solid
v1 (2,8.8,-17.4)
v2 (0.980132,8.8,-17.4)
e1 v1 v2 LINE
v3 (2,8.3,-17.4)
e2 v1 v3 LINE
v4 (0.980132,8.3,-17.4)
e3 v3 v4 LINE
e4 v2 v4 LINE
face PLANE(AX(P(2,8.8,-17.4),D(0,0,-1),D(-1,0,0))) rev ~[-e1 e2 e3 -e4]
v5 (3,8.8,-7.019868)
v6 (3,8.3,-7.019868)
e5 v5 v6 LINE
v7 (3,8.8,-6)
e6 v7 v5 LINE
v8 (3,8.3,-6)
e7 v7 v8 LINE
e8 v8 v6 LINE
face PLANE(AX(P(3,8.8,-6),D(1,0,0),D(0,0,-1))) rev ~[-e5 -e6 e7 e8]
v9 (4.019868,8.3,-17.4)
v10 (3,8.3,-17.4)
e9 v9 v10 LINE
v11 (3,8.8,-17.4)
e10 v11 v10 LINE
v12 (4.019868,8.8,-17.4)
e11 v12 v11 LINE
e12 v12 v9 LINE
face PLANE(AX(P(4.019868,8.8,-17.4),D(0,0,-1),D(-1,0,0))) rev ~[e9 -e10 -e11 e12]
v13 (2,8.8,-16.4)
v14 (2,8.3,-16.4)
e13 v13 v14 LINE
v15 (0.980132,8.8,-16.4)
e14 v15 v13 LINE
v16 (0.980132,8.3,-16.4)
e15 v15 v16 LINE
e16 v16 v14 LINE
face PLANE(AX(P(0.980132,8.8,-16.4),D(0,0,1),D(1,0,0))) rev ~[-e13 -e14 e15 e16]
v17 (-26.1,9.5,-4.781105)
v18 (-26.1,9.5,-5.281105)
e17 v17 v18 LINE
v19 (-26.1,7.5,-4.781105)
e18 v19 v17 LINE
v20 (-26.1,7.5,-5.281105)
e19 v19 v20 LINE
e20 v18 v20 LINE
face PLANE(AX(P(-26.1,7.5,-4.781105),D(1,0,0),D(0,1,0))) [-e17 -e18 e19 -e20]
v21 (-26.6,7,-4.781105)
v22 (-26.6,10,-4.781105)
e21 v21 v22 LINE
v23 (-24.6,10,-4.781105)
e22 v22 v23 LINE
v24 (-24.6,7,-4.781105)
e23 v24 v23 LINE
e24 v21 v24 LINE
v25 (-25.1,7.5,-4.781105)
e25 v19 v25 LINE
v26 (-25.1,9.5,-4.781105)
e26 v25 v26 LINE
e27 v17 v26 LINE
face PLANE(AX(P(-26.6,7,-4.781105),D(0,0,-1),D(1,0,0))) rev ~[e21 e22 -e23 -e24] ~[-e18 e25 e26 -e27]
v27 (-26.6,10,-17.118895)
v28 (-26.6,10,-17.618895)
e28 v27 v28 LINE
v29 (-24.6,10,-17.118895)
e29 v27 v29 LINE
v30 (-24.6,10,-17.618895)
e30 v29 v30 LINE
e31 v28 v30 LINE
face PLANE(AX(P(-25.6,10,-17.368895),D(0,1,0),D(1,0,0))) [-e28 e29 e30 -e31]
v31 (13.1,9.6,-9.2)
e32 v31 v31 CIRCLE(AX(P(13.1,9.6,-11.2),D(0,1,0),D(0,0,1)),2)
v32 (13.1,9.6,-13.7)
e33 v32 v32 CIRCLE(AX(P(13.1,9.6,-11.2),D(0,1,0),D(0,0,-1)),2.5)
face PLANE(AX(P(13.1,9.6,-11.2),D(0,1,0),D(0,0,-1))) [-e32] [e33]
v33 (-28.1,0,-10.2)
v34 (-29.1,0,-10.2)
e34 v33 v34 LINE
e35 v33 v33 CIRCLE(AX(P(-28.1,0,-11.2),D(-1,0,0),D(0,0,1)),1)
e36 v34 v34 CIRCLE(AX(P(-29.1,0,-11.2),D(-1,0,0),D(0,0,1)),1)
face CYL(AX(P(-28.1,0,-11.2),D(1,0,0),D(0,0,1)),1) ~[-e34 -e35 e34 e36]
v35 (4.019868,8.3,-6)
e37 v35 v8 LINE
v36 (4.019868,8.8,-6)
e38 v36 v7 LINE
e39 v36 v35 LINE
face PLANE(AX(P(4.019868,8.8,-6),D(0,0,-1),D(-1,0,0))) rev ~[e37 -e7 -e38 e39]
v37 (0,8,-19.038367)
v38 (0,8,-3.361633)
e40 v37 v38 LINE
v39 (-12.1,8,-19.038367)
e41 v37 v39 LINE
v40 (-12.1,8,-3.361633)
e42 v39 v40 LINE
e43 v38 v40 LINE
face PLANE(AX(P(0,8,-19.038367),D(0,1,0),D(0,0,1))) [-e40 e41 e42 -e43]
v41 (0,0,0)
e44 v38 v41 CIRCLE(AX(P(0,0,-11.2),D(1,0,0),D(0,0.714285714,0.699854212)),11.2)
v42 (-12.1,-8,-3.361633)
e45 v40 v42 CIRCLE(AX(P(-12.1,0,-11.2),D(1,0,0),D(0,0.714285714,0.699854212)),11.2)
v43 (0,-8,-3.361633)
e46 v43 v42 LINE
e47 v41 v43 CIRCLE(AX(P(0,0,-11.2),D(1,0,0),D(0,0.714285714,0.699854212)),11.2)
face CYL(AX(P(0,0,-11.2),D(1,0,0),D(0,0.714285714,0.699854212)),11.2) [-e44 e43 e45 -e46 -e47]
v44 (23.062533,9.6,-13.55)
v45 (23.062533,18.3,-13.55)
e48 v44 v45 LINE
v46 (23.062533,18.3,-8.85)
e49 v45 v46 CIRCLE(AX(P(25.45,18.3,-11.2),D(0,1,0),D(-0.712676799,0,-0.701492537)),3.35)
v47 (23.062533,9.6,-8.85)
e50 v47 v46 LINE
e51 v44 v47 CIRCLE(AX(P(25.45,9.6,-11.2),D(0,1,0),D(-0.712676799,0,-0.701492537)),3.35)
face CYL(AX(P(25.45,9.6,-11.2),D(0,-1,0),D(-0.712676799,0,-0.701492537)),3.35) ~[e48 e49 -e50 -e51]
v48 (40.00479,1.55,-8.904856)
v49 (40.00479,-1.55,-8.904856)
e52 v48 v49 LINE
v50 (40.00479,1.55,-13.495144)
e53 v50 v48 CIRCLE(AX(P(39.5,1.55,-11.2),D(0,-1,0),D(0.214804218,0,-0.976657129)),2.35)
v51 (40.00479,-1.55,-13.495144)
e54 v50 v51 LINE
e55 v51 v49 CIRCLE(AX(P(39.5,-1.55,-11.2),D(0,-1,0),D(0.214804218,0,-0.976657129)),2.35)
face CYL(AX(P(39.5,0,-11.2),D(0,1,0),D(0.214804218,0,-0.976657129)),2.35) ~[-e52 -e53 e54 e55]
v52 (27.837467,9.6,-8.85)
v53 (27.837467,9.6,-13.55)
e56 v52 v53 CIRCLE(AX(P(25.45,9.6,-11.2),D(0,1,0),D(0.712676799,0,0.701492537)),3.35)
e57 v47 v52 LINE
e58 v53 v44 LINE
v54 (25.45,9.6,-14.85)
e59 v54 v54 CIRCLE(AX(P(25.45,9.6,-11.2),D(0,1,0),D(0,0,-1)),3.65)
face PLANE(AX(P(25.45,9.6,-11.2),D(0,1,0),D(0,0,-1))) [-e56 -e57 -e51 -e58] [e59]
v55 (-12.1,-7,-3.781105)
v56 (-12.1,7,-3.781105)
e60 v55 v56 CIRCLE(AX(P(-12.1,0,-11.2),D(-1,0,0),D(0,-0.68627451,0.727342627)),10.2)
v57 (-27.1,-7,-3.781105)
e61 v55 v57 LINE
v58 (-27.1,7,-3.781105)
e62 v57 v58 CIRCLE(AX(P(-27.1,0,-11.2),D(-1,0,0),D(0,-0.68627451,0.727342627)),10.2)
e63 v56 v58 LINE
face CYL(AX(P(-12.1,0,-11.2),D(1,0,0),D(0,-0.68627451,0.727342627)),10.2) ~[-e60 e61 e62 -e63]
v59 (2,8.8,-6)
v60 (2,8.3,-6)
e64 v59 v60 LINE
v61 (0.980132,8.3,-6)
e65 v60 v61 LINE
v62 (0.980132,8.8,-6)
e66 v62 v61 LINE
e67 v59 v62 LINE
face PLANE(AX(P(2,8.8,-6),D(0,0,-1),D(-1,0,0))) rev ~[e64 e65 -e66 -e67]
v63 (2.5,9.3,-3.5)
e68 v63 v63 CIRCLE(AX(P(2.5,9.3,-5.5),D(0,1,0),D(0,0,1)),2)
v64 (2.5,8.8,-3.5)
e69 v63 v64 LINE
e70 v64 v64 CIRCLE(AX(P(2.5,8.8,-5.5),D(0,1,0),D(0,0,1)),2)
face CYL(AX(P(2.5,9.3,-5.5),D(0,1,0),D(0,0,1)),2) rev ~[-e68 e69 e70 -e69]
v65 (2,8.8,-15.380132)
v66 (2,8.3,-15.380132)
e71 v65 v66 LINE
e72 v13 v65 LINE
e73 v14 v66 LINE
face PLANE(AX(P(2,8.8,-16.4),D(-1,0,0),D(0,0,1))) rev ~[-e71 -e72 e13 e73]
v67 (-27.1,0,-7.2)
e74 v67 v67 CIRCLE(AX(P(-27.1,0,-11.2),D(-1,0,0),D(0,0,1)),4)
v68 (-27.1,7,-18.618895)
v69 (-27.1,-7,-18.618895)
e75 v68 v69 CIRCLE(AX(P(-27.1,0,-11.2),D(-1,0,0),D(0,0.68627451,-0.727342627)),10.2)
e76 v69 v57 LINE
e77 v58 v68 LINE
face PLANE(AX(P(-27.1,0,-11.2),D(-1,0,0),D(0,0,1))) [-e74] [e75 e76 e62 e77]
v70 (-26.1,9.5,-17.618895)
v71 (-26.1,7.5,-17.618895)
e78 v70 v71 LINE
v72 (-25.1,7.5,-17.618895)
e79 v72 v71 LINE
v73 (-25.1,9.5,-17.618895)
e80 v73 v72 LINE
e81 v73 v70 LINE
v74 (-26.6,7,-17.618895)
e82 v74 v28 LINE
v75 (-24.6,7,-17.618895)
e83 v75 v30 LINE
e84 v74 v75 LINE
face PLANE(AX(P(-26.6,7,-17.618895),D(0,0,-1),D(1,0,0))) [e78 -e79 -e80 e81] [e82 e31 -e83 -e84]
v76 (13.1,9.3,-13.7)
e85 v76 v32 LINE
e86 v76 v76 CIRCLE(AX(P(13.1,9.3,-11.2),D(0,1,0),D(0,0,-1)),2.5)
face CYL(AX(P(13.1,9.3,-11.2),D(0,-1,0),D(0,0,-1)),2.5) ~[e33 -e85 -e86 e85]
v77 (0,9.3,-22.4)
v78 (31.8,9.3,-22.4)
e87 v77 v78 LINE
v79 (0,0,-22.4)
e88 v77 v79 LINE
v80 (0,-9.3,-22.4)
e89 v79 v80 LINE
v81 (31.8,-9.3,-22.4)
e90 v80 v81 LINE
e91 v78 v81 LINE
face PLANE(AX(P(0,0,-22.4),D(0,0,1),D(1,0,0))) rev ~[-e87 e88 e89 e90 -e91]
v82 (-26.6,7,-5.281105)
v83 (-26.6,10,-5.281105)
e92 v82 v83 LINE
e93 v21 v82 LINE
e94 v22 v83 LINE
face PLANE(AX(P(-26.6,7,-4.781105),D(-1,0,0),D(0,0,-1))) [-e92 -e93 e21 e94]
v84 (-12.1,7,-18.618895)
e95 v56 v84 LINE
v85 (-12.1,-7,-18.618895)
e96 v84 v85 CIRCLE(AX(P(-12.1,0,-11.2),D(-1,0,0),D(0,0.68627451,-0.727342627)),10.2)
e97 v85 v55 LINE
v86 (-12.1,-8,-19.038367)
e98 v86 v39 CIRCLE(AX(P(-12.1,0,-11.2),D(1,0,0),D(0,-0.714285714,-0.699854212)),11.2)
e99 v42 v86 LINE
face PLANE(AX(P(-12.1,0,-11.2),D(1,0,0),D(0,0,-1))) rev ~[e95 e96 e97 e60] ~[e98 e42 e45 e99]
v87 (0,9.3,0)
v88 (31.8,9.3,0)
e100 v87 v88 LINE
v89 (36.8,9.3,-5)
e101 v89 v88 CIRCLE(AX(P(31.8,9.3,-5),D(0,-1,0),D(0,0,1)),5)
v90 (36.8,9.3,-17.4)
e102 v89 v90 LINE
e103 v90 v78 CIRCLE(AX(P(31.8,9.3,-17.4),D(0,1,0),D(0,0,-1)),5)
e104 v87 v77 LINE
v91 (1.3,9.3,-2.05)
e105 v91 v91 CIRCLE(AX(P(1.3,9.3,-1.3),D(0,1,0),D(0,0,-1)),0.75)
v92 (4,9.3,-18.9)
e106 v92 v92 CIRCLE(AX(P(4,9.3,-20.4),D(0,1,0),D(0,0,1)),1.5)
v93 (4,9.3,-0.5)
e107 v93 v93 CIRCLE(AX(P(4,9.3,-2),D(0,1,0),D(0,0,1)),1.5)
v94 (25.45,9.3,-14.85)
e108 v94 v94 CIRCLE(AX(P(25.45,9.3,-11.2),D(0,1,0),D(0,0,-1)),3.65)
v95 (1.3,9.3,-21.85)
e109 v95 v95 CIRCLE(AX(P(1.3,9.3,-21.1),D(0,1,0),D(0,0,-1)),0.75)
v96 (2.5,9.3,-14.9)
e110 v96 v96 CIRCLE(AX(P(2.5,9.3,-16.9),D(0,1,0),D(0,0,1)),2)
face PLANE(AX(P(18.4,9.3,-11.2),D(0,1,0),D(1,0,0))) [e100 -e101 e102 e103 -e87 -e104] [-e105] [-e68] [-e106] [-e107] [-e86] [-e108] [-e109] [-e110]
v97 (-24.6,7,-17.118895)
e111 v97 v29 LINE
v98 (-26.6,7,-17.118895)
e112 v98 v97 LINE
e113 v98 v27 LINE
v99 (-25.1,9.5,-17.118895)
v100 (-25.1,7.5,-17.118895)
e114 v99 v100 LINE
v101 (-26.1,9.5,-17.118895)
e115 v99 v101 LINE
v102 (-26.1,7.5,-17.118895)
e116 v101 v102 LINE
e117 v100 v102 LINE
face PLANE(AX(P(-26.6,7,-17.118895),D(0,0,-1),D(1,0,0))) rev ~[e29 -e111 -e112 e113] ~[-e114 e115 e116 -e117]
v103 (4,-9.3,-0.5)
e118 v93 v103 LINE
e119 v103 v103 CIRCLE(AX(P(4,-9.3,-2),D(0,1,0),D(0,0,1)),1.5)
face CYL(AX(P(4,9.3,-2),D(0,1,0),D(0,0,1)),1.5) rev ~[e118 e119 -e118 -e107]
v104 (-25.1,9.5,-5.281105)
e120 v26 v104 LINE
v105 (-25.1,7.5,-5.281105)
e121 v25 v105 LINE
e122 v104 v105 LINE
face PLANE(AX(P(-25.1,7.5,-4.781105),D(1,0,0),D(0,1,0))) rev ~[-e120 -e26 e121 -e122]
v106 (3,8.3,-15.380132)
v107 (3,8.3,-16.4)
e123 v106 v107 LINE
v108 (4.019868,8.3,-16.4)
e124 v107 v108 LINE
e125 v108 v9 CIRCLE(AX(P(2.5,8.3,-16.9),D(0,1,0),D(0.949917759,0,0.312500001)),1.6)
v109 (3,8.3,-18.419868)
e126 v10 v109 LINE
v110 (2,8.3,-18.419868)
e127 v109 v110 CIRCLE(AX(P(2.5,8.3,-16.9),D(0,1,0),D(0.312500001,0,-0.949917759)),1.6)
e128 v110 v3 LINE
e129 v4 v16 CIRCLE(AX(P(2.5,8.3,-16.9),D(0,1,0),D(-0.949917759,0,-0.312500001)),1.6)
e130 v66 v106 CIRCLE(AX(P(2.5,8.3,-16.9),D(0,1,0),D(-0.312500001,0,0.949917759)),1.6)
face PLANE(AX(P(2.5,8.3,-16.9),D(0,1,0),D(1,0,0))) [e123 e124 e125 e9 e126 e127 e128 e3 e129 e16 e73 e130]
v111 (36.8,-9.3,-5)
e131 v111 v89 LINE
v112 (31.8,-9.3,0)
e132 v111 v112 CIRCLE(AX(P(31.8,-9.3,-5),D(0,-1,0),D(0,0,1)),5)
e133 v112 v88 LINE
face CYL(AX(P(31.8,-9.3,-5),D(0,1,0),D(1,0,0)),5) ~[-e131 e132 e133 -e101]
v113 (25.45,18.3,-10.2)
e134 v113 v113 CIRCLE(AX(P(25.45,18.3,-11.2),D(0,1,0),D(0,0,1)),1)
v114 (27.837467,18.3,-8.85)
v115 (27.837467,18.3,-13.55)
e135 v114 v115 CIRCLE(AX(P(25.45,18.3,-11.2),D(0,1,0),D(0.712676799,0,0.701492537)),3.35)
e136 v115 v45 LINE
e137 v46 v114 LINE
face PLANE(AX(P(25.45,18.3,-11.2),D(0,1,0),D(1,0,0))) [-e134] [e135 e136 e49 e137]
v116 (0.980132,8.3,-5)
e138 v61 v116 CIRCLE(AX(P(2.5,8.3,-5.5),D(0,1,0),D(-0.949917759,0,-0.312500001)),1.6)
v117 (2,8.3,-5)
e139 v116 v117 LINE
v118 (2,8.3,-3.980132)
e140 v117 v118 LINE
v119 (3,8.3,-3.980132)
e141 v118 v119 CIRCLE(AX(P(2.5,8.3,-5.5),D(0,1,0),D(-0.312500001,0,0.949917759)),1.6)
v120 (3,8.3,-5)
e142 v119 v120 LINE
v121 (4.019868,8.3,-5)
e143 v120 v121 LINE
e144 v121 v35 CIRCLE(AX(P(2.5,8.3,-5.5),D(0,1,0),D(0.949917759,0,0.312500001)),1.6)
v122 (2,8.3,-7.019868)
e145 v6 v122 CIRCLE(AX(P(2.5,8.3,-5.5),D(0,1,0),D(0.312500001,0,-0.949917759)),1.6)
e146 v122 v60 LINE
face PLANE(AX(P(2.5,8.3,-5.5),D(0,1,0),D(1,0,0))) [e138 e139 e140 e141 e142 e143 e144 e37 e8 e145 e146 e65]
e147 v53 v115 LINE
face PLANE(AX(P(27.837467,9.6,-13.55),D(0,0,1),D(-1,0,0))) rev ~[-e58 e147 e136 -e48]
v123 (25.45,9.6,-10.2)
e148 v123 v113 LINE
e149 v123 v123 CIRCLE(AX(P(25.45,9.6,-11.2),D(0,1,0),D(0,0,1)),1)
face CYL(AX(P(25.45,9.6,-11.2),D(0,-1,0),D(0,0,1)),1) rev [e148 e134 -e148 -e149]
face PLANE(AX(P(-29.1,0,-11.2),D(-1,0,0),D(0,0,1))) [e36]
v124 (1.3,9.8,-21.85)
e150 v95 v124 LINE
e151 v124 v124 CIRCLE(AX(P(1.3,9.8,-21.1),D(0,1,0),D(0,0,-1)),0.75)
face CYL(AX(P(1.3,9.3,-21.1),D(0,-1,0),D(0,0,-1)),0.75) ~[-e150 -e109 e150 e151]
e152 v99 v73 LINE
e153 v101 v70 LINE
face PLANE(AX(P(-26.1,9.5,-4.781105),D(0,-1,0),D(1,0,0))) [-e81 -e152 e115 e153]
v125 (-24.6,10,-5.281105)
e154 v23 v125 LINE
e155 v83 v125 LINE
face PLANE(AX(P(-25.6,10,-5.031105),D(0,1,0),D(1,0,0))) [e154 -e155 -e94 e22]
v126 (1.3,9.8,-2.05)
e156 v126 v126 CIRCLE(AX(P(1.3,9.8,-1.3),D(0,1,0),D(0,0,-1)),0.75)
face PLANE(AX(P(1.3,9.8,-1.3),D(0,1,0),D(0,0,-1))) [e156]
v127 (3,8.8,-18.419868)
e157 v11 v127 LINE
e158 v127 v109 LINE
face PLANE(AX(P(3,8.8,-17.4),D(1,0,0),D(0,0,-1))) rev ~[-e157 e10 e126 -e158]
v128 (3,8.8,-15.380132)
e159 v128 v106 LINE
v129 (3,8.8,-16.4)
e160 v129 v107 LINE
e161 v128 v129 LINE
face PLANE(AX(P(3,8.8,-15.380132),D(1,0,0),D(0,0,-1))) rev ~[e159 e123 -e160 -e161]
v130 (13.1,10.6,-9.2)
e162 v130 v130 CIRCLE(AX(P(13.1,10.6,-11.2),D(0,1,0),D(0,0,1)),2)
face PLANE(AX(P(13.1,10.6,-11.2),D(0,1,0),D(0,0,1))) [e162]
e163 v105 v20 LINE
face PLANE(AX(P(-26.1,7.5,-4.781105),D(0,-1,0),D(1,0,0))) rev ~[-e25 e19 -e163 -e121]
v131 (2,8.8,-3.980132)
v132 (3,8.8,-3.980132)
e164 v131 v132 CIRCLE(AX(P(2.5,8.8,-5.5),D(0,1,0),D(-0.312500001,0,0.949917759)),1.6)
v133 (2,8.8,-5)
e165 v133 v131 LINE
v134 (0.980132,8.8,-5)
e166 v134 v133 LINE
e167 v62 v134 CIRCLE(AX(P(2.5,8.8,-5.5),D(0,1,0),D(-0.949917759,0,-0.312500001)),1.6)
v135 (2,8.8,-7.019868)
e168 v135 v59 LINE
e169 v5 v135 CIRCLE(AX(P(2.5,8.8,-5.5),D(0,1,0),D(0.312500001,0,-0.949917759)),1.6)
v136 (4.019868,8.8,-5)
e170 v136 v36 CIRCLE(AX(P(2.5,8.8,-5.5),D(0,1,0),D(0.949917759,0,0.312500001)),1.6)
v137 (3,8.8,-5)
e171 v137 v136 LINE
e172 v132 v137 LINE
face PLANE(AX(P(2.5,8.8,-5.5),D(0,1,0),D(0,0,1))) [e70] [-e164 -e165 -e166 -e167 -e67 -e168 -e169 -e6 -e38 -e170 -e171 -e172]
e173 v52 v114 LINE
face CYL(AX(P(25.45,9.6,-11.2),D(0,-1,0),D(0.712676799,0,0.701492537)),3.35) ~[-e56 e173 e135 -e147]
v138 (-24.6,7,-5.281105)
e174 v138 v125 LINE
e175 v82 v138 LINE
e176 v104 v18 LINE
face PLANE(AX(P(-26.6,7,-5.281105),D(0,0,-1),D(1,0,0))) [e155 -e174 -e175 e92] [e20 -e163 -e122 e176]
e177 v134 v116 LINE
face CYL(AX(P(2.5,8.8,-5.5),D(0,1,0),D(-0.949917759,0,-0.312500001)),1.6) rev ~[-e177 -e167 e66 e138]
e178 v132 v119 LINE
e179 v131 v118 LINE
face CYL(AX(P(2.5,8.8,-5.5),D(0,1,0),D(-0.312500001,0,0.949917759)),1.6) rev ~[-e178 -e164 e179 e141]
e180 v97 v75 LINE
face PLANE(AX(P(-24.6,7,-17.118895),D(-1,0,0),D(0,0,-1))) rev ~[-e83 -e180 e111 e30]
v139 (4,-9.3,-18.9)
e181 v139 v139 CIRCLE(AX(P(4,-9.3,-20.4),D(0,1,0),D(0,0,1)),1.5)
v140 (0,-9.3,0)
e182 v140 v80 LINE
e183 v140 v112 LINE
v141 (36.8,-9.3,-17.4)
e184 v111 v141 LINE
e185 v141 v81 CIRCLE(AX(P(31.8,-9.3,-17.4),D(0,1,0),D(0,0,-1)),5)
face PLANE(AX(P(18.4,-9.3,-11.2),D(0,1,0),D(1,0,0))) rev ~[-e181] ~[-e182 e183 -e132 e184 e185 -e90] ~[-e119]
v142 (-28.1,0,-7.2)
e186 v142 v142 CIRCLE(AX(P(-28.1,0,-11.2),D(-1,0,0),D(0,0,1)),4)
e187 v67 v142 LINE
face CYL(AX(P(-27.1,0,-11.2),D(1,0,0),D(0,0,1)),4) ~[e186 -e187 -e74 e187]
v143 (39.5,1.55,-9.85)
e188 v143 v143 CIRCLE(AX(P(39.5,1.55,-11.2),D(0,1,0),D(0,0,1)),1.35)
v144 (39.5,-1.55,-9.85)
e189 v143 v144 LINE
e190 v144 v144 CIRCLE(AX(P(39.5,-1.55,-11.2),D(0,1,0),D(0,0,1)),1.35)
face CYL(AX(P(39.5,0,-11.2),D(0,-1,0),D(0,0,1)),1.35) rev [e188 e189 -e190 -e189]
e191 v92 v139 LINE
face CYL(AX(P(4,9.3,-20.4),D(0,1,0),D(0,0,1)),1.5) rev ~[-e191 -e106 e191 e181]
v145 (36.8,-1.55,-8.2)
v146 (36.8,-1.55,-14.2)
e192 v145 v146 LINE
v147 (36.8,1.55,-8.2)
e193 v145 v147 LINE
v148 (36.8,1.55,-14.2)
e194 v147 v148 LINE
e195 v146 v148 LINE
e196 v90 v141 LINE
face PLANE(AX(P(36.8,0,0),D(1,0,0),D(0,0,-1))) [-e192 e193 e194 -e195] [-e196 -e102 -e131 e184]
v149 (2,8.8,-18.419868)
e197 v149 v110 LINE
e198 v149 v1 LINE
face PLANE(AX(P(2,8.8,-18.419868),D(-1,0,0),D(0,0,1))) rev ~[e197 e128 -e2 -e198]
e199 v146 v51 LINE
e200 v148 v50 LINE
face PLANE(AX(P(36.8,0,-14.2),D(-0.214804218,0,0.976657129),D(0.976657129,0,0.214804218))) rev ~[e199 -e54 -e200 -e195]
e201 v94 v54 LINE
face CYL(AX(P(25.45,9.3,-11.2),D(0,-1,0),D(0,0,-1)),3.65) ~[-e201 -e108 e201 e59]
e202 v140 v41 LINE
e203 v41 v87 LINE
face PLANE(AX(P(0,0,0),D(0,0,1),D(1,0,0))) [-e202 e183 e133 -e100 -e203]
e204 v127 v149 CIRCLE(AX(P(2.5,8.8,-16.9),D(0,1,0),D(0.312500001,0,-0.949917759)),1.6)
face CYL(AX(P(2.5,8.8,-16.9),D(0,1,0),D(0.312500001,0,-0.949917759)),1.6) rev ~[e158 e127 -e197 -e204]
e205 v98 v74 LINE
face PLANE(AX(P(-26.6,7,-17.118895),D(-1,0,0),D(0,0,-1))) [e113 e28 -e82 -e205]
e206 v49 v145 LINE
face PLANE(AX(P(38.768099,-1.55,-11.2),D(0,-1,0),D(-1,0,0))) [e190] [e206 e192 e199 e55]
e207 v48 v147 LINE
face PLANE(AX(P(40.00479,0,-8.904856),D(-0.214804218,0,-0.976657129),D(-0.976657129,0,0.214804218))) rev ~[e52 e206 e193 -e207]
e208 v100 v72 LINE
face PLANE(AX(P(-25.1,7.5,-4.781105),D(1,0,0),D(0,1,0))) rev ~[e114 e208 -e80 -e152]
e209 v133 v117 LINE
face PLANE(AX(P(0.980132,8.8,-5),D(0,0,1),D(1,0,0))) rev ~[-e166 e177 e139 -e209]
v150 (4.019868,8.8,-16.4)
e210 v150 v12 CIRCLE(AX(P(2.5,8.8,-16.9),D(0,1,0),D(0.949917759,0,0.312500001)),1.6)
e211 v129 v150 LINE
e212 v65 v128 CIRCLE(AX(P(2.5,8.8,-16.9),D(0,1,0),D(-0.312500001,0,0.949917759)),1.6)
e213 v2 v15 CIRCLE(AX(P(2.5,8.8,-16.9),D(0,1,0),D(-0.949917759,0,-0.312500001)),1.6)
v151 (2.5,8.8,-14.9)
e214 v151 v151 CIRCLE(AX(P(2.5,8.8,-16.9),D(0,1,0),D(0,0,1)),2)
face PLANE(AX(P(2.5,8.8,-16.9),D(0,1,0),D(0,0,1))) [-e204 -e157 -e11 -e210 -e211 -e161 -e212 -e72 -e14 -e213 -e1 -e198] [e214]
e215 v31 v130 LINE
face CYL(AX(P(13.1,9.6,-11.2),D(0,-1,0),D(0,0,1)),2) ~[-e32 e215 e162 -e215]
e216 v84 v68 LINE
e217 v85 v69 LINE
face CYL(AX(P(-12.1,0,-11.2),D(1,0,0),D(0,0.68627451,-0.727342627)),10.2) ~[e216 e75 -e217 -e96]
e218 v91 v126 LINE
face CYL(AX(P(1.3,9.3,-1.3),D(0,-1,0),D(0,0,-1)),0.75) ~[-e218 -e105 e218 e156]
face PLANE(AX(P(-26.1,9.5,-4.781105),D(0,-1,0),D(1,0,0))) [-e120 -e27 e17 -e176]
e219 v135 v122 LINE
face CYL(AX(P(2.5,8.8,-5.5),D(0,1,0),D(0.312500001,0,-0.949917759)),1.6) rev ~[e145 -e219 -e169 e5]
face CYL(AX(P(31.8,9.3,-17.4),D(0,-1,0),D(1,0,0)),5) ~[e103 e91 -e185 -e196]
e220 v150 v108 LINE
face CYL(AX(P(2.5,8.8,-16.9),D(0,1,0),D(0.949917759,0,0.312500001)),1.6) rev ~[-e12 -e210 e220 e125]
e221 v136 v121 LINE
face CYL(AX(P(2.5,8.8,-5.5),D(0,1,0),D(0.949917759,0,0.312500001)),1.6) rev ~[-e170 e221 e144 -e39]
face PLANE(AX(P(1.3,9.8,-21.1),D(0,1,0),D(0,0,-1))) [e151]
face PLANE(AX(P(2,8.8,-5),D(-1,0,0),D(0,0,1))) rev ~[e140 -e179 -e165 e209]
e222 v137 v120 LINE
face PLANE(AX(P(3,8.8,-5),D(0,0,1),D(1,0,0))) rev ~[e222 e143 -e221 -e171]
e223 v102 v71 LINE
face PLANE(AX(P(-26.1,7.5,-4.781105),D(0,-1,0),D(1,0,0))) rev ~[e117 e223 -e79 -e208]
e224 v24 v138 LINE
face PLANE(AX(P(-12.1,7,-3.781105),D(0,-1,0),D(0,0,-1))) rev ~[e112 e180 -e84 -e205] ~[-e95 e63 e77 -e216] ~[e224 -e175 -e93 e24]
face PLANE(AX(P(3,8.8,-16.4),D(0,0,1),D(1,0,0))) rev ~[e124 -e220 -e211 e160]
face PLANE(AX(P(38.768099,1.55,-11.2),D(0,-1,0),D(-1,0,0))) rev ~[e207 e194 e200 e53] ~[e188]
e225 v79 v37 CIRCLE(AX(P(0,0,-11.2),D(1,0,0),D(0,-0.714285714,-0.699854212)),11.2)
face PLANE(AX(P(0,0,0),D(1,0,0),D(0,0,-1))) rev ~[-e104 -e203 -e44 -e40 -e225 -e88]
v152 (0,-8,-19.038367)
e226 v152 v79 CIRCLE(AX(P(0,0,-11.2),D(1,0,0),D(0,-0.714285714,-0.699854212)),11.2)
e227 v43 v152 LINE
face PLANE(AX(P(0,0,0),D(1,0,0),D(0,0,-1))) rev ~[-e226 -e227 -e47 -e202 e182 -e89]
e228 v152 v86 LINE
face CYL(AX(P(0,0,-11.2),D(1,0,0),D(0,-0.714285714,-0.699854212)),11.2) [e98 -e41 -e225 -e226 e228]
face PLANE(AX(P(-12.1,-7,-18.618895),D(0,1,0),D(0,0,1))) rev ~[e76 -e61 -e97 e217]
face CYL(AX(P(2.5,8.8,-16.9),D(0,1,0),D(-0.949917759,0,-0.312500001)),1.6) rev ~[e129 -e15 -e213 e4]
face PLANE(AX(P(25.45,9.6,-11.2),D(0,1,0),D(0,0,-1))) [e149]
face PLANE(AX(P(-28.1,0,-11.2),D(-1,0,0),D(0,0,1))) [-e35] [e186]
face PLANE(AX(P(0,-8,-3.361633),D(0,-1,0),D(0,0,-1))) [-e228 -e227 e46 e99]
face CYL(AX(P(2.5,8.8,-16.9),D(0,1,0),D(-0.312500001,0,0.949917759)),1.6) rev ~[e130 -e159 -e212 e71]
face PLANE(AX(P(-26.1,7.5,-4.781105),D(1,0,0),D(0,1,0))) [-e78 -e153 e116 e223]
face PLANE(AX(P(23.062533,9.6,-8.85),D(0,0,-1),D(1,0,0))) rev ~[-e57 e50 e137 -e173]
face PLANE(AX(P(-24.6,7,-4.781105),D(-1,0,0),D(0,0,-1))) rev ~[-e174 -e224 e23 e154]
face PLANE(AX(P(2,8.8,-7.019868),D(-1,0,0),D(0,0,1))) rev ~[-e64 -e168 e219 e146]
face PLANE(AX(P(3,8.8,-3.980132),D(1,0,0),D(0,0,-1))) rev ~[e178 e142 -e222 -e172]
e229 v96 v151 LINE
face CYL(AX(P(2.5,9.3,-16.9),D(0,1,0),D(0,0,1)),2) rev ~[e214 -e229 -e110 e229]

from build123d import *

# Parameters (mm, degrees)
SKETCH1_W       = 36.8
SKETCH1_H       = 22.4
EXTRUDE1_DEPTH  = 9.3
FILLET1_R       = 5
SKETCH2_R       = 1.35
EXTRUDE2_DEPTH  = 1.55
SKETCH3_R       = 3.65
SKETCH3_R_2     = 2.5
EXTRUDE3_DEPTH  = 0.3
SKETCH4_R       = 1
EXTRUDE4_DEPTH  = 8.7
SKETCH6_R       = 2
EXTRUDE5_DEPTH  = 1
SKETCH7_R       = 1.5
EXTRUDE6_DEPTH  = 19.6
SKETCH8_R       = 2
EXTRUDE7_DEPTH  = 0.5
EXTRUDE8_DEPTH  = 0.5
SKETCH10_R      = 0.75
EXTRUDE9_DEPTH  = 0.5
EXTRUDE11_DEPTH = 12.1
EXTRUDE12_DEPTH = 15
SKETCH14_R      = 4
EXTRUDE13_DEPTH = 1
SKETCH15_R      = 1
EXTRUDE14_DEPTH = 1
SKETCH16_W      = 2
SKETCH16_H      = 0.5
EXTRUDE15_DEPTH = 3
SKETCH17_W      = 1
SKETCH17_H      = 2
EXTRUDE16_DEPTH = 18.618894796


with BuildPart() as part:
    # Sketch1 → Extrude1 (new body, symmetric)
    with BuildSketch(Plane(origin=(0, 0, 0), x_dir=(1, 0, 0), z_dir=(0, 1, 0))):
        with Locations((18.4, 11.2)):
            Rectangle(SKETCH1_W, SKETCH1_H)
    extrude(amount=EXTRUDE1_DEPTH, both=True)

    # Fillet1
    fillet1_edges = [part.edges().sort_by_distance(p)[0] for p in [
        (36.8, 0, -22.4),
        (36.8, 0, 0),
    ]]
    fillet(fillet1_edges, radius=FILLET1_R)

    # Sketch2 → Extrude2 (add, symmetric)
    with BuildSketch(Plane(origin=(0, 0, 0), x_dir=(1, 0, 0), z_dir=(0, 1, 0))):
        with BuildLine():
            Line((36.8, 14.2), (40.004789912, 13.495144254))
            ThreePointArc((40.004789912, 13.495144254), (41.85, 11.2), (40.004789912, 8.904855746))
            Line((40.004789912, 8.904855746), (36.8, 8.2))
            Line((36.8, 8.2), (36.8, 14.2))
        make_face()
        with Locations(Location((39.5, 11.2, 0), (0, 0, 270))):  # turned: the seam where the file's is
            Circle(SKETCH2_R, mode=Mode.SUBTRACT)
    extrude(amount=EXTRUDE2_DEPTH, both=True)

    # Sketch3 → Extrude3 (add)
    with BuildSketch(Plane(origin=(0, 9.3, 0), x_dir=(1, 0, 0), z_dir=(0, 1, 0))):
        with Locations(Location((25.45, 11.2, 0), (0, 0, 90))):  # turned: the seam where the file's is
            Circle(SKETCH3_R)
        with Locations(Location((13.1, 11.2, 0), (0, 0, 90))):  # turned: the seam where the file's is
            Circle(SKETCH3_R_2)
    extrude(amount=EXTRUDE3_DEPTH)

    # Sketch4 → Extrude4 (add)
    with BuildSketch(Plane(origin=(0, 9.6, 0), x_dir=(1, 0, 0), z_dir=(0, 1, 0))):
        with BuildLine():
            Line((23.062532723, 8.85), (27.837467277, 8.85))
            ThreePointArc((27.837467277, 8.85), (28.8, 11.2), (27.837467277, 13.55))
            Line((27.837467277, 13.55), (23.062532723, 13.55))
            ThreePointArc((23.062532723, 13.55), (22.1, 11.2), (23.062532723, 8.85))
        make_face()
        with Locations(Location((25.45, 11.2, 0), (0, 0, 270))):  # turned: the seam where the file's is
            Circle(SKETCH4_R, mode=Mode.SUBTRACT)
    extrude(amount=EXTRUDE4_DEPTH)

    # Sketch6 → Extrude5 (add)
    with BuildSketch(Plane(origin=(0, 9.6, 0), x_dir=(1, 0, 0), z_dir=(0, 1, 0))):
        with Locations(Location((13.1, 11.2, 0), (0, 0, 270))):  # turned: the seam where the file's is
            Circle(SKETCH6_R)
    extrude(amount=EXTRUDE5_DEPTH)

    # Sketch7 → Extrude6 (cut, through all)
    with BuildSketch(Plane(origin=(0, 9.3, 0), x_dir=(1, 0, 0), z_dir=(0, 1, 0))):
        with Locations(Location((4, 20.4, 0), (0, 0, 270))):  # turned: the seam where the file's is
            Circle(SKETCH7_R)
        with Locations(Location((4, 2, 0), (0, 0, 270))):  # turned: the seam where the file's is
            Circle(SKETCH7_R)
    extrude(amount=-EXTRUDE6_DEPTH, mode=Mode.SUBTRACT)

    # Sketch8 → Extrude7 (cut)
    with BuildSketch(Plane(origin=(0, 9.3, 0), x_dir=(1, 0, 0), z_dir=(0, 1, 0))):
        with Locations(Location((2.5, 16.9, 0), (0, 0, 270))):  # turned: the seam where the file's is
            Circle(SKETCH8_R)
        with Locations(Location((2.5, 5.5, 0), (0, 0, 270))):  # turned: the seam where the file's is
            Circle(SKETCH8_R)
    extrude(amount=-EXTRUDE7_DEPTH, mode=Mode.SUBTRACT)

    # Sketch9 → Extrude8 (cut)
    with BuildSketch(Plane(origin=(0, 8.8, 0), x_dir=(1, 0, 0), z_dir=(0, 1, 0))):
        with BuildLine():
            Line((2, 7.019868415), (2, 6))
            Line((2, 6), (0.980131585, 6))
            ThreePointArc((0.980131585, 6), (0.9, 5.5), (0.980131585, 5))
            Line((0.980131585, 5), (2, 5))
            Line((2, 5), (2, 3.980131585))
            ThreePointArc((2, 3.980131585), (2.5, 3.9), (3, 3.980131585))
            Line((3, 3.980131585), (3, 5))
            Line((3, 5), (4.019868415, 5))
            ThreePointArc((4.019868415, 5), (4.1, 5.5), (4.019868415, 6))
            Line((4.019868415, 6), (3, 6))
            Line((3, 6), (3, 7.019868415))
            ThreePointArc((3, 7.019868415), (2.5, 7.1), (2, 7.019868415))
        make_face()
        with BuildLine():
            Line((4.019868415, 17.4), (3, 17.4))
            Line((3, 17.4), (3, 18.419868415))
            ThreePointArc((3, 18.419868415), (2.5, 18.5), (2, 18.419868415))
            Line((2, 18.419868415), (2, 17.4))
            Line((2, 17.4), (0.980131585, 17.4))
            ThreePointArc((0.980131585, 17.4), (0.9, 16.9), (0.980131585, 16.4))
            Line((0.980131585, 16.4), (2, 16.4))
            Line((2, 16.4), (2, 15.380131585))
            ThreePointArc((2, 15.380131585), (2.5, 15.3), (3, 15.380131585))
            Line((3, 15.380131585), (3, 16.4))
            Line((3, 16.4), (4.019868415, 16.4))
            ThreePointArc((4.019868415, 16.4), (4.1, 16.9), (4.019868415, 17.4))
        make_face()
    extrude(amount=-EXTRUDE8_DEPTH, mode=Mode.SUBTRACT)

    # Sketch10 → Extrude9 (add)
    with BuildSketch(Plane(origin=(0, 9.3, 0), x_dir=(1, 0, 0), z_dir=(0, 1, 0))):
        with Locations(Location((1.3, 21.1, 0), (0, 0, 90))):  # turned: the seam where the file's is
            Circle(SKETCH10_R)
        with Locations(Location((1.3, 1.3, 0), (0, 0, 90))):  # turned: the seam where the file's is
            Circle(SKETCH10_R)
    extrude(amount=EXTRUDE9_DEPTH)

    # Sketch12 → Extrude11 (add)
    with BuildSketch(Plane.ZY):
        with BuildLine():
            Line((-19.038367177, 8), (-3.361632823, 8))
            ThreePointArc((-3.361632823, 8), (0, 0), (-3.361632823, -8))
            Line((-3.361632823, -8), (-19.038367177, -8))
            ThreePointArc((-19.038367177, -8), (-22.4, 0), (-19.038367177, 8))
        make_face()
    extrude(amount=EXTRUDE11_DEPTH)

    # Sketch13 → Extrude12 (add)
    with BuildSketch(Plane.ZY.offset(12.1)):
        with BuildLine():
            Line((-18.618894796, -7), (-3.781105204, -7))
            ThreePointArc((-3.781105204, -7), (-1, 0), (-3.781105204, 7))
            Line((-3.781105204, 7), (-18.618894796, 7))
            ThreePointArc((-18.618894796, 7), (-21.4, 0), (-18.618894796, -7))
        make_face()
    extrude(amount=EXTRUDE12_DEPTH)

    # Sketch14 → Extrude13 (add)
    with BuildSketch(Plane.ZY.offset(27.1)):
        with Locations((-11.2, 0)):
            Circle(SKETCH14_R)
    extrude(amount=EXTRUDE13_DEPTH)

    # Sketch15 → Extrude14 (add)
    with BuildSketch(Plane.ZY.offset(28.1)):
        with Locations((-11.2, 0)):
            Circle(SKETCH15_R)
    extrude(amount=EXTRUDE14_DEPTH)

    # Sketch16 → Extrude15 (add)
    with BuildSketch(Plane(origin=(0, 7, 0), x_dir=(1, 0, 0), z_dir=(0, 1, 0))):
        with Locations((-25.6, 17.368894796)):
            Rectangle(SKETCH16_W, SKETCH16_H)
        with Locations((-25.6, 5.031105204)):
            Rectangle(SKETCH16_W, SKETCH16_H)
    extrude(amount=EXTRUDE15_DEPTH)

    # Sketch17 → Extrude16 (cut, through all)
    with BuildSketch(Plane.XY.offset(-4.781105204)):
        with Locations((-25.6, 8.5)):
            Rectangle(SKETCH17_W, SKETCH17_H)
    extrude(amount=-EXTRUDE16_DEPTH, mode=Mode.SUBTRACT)


solid = part.part
